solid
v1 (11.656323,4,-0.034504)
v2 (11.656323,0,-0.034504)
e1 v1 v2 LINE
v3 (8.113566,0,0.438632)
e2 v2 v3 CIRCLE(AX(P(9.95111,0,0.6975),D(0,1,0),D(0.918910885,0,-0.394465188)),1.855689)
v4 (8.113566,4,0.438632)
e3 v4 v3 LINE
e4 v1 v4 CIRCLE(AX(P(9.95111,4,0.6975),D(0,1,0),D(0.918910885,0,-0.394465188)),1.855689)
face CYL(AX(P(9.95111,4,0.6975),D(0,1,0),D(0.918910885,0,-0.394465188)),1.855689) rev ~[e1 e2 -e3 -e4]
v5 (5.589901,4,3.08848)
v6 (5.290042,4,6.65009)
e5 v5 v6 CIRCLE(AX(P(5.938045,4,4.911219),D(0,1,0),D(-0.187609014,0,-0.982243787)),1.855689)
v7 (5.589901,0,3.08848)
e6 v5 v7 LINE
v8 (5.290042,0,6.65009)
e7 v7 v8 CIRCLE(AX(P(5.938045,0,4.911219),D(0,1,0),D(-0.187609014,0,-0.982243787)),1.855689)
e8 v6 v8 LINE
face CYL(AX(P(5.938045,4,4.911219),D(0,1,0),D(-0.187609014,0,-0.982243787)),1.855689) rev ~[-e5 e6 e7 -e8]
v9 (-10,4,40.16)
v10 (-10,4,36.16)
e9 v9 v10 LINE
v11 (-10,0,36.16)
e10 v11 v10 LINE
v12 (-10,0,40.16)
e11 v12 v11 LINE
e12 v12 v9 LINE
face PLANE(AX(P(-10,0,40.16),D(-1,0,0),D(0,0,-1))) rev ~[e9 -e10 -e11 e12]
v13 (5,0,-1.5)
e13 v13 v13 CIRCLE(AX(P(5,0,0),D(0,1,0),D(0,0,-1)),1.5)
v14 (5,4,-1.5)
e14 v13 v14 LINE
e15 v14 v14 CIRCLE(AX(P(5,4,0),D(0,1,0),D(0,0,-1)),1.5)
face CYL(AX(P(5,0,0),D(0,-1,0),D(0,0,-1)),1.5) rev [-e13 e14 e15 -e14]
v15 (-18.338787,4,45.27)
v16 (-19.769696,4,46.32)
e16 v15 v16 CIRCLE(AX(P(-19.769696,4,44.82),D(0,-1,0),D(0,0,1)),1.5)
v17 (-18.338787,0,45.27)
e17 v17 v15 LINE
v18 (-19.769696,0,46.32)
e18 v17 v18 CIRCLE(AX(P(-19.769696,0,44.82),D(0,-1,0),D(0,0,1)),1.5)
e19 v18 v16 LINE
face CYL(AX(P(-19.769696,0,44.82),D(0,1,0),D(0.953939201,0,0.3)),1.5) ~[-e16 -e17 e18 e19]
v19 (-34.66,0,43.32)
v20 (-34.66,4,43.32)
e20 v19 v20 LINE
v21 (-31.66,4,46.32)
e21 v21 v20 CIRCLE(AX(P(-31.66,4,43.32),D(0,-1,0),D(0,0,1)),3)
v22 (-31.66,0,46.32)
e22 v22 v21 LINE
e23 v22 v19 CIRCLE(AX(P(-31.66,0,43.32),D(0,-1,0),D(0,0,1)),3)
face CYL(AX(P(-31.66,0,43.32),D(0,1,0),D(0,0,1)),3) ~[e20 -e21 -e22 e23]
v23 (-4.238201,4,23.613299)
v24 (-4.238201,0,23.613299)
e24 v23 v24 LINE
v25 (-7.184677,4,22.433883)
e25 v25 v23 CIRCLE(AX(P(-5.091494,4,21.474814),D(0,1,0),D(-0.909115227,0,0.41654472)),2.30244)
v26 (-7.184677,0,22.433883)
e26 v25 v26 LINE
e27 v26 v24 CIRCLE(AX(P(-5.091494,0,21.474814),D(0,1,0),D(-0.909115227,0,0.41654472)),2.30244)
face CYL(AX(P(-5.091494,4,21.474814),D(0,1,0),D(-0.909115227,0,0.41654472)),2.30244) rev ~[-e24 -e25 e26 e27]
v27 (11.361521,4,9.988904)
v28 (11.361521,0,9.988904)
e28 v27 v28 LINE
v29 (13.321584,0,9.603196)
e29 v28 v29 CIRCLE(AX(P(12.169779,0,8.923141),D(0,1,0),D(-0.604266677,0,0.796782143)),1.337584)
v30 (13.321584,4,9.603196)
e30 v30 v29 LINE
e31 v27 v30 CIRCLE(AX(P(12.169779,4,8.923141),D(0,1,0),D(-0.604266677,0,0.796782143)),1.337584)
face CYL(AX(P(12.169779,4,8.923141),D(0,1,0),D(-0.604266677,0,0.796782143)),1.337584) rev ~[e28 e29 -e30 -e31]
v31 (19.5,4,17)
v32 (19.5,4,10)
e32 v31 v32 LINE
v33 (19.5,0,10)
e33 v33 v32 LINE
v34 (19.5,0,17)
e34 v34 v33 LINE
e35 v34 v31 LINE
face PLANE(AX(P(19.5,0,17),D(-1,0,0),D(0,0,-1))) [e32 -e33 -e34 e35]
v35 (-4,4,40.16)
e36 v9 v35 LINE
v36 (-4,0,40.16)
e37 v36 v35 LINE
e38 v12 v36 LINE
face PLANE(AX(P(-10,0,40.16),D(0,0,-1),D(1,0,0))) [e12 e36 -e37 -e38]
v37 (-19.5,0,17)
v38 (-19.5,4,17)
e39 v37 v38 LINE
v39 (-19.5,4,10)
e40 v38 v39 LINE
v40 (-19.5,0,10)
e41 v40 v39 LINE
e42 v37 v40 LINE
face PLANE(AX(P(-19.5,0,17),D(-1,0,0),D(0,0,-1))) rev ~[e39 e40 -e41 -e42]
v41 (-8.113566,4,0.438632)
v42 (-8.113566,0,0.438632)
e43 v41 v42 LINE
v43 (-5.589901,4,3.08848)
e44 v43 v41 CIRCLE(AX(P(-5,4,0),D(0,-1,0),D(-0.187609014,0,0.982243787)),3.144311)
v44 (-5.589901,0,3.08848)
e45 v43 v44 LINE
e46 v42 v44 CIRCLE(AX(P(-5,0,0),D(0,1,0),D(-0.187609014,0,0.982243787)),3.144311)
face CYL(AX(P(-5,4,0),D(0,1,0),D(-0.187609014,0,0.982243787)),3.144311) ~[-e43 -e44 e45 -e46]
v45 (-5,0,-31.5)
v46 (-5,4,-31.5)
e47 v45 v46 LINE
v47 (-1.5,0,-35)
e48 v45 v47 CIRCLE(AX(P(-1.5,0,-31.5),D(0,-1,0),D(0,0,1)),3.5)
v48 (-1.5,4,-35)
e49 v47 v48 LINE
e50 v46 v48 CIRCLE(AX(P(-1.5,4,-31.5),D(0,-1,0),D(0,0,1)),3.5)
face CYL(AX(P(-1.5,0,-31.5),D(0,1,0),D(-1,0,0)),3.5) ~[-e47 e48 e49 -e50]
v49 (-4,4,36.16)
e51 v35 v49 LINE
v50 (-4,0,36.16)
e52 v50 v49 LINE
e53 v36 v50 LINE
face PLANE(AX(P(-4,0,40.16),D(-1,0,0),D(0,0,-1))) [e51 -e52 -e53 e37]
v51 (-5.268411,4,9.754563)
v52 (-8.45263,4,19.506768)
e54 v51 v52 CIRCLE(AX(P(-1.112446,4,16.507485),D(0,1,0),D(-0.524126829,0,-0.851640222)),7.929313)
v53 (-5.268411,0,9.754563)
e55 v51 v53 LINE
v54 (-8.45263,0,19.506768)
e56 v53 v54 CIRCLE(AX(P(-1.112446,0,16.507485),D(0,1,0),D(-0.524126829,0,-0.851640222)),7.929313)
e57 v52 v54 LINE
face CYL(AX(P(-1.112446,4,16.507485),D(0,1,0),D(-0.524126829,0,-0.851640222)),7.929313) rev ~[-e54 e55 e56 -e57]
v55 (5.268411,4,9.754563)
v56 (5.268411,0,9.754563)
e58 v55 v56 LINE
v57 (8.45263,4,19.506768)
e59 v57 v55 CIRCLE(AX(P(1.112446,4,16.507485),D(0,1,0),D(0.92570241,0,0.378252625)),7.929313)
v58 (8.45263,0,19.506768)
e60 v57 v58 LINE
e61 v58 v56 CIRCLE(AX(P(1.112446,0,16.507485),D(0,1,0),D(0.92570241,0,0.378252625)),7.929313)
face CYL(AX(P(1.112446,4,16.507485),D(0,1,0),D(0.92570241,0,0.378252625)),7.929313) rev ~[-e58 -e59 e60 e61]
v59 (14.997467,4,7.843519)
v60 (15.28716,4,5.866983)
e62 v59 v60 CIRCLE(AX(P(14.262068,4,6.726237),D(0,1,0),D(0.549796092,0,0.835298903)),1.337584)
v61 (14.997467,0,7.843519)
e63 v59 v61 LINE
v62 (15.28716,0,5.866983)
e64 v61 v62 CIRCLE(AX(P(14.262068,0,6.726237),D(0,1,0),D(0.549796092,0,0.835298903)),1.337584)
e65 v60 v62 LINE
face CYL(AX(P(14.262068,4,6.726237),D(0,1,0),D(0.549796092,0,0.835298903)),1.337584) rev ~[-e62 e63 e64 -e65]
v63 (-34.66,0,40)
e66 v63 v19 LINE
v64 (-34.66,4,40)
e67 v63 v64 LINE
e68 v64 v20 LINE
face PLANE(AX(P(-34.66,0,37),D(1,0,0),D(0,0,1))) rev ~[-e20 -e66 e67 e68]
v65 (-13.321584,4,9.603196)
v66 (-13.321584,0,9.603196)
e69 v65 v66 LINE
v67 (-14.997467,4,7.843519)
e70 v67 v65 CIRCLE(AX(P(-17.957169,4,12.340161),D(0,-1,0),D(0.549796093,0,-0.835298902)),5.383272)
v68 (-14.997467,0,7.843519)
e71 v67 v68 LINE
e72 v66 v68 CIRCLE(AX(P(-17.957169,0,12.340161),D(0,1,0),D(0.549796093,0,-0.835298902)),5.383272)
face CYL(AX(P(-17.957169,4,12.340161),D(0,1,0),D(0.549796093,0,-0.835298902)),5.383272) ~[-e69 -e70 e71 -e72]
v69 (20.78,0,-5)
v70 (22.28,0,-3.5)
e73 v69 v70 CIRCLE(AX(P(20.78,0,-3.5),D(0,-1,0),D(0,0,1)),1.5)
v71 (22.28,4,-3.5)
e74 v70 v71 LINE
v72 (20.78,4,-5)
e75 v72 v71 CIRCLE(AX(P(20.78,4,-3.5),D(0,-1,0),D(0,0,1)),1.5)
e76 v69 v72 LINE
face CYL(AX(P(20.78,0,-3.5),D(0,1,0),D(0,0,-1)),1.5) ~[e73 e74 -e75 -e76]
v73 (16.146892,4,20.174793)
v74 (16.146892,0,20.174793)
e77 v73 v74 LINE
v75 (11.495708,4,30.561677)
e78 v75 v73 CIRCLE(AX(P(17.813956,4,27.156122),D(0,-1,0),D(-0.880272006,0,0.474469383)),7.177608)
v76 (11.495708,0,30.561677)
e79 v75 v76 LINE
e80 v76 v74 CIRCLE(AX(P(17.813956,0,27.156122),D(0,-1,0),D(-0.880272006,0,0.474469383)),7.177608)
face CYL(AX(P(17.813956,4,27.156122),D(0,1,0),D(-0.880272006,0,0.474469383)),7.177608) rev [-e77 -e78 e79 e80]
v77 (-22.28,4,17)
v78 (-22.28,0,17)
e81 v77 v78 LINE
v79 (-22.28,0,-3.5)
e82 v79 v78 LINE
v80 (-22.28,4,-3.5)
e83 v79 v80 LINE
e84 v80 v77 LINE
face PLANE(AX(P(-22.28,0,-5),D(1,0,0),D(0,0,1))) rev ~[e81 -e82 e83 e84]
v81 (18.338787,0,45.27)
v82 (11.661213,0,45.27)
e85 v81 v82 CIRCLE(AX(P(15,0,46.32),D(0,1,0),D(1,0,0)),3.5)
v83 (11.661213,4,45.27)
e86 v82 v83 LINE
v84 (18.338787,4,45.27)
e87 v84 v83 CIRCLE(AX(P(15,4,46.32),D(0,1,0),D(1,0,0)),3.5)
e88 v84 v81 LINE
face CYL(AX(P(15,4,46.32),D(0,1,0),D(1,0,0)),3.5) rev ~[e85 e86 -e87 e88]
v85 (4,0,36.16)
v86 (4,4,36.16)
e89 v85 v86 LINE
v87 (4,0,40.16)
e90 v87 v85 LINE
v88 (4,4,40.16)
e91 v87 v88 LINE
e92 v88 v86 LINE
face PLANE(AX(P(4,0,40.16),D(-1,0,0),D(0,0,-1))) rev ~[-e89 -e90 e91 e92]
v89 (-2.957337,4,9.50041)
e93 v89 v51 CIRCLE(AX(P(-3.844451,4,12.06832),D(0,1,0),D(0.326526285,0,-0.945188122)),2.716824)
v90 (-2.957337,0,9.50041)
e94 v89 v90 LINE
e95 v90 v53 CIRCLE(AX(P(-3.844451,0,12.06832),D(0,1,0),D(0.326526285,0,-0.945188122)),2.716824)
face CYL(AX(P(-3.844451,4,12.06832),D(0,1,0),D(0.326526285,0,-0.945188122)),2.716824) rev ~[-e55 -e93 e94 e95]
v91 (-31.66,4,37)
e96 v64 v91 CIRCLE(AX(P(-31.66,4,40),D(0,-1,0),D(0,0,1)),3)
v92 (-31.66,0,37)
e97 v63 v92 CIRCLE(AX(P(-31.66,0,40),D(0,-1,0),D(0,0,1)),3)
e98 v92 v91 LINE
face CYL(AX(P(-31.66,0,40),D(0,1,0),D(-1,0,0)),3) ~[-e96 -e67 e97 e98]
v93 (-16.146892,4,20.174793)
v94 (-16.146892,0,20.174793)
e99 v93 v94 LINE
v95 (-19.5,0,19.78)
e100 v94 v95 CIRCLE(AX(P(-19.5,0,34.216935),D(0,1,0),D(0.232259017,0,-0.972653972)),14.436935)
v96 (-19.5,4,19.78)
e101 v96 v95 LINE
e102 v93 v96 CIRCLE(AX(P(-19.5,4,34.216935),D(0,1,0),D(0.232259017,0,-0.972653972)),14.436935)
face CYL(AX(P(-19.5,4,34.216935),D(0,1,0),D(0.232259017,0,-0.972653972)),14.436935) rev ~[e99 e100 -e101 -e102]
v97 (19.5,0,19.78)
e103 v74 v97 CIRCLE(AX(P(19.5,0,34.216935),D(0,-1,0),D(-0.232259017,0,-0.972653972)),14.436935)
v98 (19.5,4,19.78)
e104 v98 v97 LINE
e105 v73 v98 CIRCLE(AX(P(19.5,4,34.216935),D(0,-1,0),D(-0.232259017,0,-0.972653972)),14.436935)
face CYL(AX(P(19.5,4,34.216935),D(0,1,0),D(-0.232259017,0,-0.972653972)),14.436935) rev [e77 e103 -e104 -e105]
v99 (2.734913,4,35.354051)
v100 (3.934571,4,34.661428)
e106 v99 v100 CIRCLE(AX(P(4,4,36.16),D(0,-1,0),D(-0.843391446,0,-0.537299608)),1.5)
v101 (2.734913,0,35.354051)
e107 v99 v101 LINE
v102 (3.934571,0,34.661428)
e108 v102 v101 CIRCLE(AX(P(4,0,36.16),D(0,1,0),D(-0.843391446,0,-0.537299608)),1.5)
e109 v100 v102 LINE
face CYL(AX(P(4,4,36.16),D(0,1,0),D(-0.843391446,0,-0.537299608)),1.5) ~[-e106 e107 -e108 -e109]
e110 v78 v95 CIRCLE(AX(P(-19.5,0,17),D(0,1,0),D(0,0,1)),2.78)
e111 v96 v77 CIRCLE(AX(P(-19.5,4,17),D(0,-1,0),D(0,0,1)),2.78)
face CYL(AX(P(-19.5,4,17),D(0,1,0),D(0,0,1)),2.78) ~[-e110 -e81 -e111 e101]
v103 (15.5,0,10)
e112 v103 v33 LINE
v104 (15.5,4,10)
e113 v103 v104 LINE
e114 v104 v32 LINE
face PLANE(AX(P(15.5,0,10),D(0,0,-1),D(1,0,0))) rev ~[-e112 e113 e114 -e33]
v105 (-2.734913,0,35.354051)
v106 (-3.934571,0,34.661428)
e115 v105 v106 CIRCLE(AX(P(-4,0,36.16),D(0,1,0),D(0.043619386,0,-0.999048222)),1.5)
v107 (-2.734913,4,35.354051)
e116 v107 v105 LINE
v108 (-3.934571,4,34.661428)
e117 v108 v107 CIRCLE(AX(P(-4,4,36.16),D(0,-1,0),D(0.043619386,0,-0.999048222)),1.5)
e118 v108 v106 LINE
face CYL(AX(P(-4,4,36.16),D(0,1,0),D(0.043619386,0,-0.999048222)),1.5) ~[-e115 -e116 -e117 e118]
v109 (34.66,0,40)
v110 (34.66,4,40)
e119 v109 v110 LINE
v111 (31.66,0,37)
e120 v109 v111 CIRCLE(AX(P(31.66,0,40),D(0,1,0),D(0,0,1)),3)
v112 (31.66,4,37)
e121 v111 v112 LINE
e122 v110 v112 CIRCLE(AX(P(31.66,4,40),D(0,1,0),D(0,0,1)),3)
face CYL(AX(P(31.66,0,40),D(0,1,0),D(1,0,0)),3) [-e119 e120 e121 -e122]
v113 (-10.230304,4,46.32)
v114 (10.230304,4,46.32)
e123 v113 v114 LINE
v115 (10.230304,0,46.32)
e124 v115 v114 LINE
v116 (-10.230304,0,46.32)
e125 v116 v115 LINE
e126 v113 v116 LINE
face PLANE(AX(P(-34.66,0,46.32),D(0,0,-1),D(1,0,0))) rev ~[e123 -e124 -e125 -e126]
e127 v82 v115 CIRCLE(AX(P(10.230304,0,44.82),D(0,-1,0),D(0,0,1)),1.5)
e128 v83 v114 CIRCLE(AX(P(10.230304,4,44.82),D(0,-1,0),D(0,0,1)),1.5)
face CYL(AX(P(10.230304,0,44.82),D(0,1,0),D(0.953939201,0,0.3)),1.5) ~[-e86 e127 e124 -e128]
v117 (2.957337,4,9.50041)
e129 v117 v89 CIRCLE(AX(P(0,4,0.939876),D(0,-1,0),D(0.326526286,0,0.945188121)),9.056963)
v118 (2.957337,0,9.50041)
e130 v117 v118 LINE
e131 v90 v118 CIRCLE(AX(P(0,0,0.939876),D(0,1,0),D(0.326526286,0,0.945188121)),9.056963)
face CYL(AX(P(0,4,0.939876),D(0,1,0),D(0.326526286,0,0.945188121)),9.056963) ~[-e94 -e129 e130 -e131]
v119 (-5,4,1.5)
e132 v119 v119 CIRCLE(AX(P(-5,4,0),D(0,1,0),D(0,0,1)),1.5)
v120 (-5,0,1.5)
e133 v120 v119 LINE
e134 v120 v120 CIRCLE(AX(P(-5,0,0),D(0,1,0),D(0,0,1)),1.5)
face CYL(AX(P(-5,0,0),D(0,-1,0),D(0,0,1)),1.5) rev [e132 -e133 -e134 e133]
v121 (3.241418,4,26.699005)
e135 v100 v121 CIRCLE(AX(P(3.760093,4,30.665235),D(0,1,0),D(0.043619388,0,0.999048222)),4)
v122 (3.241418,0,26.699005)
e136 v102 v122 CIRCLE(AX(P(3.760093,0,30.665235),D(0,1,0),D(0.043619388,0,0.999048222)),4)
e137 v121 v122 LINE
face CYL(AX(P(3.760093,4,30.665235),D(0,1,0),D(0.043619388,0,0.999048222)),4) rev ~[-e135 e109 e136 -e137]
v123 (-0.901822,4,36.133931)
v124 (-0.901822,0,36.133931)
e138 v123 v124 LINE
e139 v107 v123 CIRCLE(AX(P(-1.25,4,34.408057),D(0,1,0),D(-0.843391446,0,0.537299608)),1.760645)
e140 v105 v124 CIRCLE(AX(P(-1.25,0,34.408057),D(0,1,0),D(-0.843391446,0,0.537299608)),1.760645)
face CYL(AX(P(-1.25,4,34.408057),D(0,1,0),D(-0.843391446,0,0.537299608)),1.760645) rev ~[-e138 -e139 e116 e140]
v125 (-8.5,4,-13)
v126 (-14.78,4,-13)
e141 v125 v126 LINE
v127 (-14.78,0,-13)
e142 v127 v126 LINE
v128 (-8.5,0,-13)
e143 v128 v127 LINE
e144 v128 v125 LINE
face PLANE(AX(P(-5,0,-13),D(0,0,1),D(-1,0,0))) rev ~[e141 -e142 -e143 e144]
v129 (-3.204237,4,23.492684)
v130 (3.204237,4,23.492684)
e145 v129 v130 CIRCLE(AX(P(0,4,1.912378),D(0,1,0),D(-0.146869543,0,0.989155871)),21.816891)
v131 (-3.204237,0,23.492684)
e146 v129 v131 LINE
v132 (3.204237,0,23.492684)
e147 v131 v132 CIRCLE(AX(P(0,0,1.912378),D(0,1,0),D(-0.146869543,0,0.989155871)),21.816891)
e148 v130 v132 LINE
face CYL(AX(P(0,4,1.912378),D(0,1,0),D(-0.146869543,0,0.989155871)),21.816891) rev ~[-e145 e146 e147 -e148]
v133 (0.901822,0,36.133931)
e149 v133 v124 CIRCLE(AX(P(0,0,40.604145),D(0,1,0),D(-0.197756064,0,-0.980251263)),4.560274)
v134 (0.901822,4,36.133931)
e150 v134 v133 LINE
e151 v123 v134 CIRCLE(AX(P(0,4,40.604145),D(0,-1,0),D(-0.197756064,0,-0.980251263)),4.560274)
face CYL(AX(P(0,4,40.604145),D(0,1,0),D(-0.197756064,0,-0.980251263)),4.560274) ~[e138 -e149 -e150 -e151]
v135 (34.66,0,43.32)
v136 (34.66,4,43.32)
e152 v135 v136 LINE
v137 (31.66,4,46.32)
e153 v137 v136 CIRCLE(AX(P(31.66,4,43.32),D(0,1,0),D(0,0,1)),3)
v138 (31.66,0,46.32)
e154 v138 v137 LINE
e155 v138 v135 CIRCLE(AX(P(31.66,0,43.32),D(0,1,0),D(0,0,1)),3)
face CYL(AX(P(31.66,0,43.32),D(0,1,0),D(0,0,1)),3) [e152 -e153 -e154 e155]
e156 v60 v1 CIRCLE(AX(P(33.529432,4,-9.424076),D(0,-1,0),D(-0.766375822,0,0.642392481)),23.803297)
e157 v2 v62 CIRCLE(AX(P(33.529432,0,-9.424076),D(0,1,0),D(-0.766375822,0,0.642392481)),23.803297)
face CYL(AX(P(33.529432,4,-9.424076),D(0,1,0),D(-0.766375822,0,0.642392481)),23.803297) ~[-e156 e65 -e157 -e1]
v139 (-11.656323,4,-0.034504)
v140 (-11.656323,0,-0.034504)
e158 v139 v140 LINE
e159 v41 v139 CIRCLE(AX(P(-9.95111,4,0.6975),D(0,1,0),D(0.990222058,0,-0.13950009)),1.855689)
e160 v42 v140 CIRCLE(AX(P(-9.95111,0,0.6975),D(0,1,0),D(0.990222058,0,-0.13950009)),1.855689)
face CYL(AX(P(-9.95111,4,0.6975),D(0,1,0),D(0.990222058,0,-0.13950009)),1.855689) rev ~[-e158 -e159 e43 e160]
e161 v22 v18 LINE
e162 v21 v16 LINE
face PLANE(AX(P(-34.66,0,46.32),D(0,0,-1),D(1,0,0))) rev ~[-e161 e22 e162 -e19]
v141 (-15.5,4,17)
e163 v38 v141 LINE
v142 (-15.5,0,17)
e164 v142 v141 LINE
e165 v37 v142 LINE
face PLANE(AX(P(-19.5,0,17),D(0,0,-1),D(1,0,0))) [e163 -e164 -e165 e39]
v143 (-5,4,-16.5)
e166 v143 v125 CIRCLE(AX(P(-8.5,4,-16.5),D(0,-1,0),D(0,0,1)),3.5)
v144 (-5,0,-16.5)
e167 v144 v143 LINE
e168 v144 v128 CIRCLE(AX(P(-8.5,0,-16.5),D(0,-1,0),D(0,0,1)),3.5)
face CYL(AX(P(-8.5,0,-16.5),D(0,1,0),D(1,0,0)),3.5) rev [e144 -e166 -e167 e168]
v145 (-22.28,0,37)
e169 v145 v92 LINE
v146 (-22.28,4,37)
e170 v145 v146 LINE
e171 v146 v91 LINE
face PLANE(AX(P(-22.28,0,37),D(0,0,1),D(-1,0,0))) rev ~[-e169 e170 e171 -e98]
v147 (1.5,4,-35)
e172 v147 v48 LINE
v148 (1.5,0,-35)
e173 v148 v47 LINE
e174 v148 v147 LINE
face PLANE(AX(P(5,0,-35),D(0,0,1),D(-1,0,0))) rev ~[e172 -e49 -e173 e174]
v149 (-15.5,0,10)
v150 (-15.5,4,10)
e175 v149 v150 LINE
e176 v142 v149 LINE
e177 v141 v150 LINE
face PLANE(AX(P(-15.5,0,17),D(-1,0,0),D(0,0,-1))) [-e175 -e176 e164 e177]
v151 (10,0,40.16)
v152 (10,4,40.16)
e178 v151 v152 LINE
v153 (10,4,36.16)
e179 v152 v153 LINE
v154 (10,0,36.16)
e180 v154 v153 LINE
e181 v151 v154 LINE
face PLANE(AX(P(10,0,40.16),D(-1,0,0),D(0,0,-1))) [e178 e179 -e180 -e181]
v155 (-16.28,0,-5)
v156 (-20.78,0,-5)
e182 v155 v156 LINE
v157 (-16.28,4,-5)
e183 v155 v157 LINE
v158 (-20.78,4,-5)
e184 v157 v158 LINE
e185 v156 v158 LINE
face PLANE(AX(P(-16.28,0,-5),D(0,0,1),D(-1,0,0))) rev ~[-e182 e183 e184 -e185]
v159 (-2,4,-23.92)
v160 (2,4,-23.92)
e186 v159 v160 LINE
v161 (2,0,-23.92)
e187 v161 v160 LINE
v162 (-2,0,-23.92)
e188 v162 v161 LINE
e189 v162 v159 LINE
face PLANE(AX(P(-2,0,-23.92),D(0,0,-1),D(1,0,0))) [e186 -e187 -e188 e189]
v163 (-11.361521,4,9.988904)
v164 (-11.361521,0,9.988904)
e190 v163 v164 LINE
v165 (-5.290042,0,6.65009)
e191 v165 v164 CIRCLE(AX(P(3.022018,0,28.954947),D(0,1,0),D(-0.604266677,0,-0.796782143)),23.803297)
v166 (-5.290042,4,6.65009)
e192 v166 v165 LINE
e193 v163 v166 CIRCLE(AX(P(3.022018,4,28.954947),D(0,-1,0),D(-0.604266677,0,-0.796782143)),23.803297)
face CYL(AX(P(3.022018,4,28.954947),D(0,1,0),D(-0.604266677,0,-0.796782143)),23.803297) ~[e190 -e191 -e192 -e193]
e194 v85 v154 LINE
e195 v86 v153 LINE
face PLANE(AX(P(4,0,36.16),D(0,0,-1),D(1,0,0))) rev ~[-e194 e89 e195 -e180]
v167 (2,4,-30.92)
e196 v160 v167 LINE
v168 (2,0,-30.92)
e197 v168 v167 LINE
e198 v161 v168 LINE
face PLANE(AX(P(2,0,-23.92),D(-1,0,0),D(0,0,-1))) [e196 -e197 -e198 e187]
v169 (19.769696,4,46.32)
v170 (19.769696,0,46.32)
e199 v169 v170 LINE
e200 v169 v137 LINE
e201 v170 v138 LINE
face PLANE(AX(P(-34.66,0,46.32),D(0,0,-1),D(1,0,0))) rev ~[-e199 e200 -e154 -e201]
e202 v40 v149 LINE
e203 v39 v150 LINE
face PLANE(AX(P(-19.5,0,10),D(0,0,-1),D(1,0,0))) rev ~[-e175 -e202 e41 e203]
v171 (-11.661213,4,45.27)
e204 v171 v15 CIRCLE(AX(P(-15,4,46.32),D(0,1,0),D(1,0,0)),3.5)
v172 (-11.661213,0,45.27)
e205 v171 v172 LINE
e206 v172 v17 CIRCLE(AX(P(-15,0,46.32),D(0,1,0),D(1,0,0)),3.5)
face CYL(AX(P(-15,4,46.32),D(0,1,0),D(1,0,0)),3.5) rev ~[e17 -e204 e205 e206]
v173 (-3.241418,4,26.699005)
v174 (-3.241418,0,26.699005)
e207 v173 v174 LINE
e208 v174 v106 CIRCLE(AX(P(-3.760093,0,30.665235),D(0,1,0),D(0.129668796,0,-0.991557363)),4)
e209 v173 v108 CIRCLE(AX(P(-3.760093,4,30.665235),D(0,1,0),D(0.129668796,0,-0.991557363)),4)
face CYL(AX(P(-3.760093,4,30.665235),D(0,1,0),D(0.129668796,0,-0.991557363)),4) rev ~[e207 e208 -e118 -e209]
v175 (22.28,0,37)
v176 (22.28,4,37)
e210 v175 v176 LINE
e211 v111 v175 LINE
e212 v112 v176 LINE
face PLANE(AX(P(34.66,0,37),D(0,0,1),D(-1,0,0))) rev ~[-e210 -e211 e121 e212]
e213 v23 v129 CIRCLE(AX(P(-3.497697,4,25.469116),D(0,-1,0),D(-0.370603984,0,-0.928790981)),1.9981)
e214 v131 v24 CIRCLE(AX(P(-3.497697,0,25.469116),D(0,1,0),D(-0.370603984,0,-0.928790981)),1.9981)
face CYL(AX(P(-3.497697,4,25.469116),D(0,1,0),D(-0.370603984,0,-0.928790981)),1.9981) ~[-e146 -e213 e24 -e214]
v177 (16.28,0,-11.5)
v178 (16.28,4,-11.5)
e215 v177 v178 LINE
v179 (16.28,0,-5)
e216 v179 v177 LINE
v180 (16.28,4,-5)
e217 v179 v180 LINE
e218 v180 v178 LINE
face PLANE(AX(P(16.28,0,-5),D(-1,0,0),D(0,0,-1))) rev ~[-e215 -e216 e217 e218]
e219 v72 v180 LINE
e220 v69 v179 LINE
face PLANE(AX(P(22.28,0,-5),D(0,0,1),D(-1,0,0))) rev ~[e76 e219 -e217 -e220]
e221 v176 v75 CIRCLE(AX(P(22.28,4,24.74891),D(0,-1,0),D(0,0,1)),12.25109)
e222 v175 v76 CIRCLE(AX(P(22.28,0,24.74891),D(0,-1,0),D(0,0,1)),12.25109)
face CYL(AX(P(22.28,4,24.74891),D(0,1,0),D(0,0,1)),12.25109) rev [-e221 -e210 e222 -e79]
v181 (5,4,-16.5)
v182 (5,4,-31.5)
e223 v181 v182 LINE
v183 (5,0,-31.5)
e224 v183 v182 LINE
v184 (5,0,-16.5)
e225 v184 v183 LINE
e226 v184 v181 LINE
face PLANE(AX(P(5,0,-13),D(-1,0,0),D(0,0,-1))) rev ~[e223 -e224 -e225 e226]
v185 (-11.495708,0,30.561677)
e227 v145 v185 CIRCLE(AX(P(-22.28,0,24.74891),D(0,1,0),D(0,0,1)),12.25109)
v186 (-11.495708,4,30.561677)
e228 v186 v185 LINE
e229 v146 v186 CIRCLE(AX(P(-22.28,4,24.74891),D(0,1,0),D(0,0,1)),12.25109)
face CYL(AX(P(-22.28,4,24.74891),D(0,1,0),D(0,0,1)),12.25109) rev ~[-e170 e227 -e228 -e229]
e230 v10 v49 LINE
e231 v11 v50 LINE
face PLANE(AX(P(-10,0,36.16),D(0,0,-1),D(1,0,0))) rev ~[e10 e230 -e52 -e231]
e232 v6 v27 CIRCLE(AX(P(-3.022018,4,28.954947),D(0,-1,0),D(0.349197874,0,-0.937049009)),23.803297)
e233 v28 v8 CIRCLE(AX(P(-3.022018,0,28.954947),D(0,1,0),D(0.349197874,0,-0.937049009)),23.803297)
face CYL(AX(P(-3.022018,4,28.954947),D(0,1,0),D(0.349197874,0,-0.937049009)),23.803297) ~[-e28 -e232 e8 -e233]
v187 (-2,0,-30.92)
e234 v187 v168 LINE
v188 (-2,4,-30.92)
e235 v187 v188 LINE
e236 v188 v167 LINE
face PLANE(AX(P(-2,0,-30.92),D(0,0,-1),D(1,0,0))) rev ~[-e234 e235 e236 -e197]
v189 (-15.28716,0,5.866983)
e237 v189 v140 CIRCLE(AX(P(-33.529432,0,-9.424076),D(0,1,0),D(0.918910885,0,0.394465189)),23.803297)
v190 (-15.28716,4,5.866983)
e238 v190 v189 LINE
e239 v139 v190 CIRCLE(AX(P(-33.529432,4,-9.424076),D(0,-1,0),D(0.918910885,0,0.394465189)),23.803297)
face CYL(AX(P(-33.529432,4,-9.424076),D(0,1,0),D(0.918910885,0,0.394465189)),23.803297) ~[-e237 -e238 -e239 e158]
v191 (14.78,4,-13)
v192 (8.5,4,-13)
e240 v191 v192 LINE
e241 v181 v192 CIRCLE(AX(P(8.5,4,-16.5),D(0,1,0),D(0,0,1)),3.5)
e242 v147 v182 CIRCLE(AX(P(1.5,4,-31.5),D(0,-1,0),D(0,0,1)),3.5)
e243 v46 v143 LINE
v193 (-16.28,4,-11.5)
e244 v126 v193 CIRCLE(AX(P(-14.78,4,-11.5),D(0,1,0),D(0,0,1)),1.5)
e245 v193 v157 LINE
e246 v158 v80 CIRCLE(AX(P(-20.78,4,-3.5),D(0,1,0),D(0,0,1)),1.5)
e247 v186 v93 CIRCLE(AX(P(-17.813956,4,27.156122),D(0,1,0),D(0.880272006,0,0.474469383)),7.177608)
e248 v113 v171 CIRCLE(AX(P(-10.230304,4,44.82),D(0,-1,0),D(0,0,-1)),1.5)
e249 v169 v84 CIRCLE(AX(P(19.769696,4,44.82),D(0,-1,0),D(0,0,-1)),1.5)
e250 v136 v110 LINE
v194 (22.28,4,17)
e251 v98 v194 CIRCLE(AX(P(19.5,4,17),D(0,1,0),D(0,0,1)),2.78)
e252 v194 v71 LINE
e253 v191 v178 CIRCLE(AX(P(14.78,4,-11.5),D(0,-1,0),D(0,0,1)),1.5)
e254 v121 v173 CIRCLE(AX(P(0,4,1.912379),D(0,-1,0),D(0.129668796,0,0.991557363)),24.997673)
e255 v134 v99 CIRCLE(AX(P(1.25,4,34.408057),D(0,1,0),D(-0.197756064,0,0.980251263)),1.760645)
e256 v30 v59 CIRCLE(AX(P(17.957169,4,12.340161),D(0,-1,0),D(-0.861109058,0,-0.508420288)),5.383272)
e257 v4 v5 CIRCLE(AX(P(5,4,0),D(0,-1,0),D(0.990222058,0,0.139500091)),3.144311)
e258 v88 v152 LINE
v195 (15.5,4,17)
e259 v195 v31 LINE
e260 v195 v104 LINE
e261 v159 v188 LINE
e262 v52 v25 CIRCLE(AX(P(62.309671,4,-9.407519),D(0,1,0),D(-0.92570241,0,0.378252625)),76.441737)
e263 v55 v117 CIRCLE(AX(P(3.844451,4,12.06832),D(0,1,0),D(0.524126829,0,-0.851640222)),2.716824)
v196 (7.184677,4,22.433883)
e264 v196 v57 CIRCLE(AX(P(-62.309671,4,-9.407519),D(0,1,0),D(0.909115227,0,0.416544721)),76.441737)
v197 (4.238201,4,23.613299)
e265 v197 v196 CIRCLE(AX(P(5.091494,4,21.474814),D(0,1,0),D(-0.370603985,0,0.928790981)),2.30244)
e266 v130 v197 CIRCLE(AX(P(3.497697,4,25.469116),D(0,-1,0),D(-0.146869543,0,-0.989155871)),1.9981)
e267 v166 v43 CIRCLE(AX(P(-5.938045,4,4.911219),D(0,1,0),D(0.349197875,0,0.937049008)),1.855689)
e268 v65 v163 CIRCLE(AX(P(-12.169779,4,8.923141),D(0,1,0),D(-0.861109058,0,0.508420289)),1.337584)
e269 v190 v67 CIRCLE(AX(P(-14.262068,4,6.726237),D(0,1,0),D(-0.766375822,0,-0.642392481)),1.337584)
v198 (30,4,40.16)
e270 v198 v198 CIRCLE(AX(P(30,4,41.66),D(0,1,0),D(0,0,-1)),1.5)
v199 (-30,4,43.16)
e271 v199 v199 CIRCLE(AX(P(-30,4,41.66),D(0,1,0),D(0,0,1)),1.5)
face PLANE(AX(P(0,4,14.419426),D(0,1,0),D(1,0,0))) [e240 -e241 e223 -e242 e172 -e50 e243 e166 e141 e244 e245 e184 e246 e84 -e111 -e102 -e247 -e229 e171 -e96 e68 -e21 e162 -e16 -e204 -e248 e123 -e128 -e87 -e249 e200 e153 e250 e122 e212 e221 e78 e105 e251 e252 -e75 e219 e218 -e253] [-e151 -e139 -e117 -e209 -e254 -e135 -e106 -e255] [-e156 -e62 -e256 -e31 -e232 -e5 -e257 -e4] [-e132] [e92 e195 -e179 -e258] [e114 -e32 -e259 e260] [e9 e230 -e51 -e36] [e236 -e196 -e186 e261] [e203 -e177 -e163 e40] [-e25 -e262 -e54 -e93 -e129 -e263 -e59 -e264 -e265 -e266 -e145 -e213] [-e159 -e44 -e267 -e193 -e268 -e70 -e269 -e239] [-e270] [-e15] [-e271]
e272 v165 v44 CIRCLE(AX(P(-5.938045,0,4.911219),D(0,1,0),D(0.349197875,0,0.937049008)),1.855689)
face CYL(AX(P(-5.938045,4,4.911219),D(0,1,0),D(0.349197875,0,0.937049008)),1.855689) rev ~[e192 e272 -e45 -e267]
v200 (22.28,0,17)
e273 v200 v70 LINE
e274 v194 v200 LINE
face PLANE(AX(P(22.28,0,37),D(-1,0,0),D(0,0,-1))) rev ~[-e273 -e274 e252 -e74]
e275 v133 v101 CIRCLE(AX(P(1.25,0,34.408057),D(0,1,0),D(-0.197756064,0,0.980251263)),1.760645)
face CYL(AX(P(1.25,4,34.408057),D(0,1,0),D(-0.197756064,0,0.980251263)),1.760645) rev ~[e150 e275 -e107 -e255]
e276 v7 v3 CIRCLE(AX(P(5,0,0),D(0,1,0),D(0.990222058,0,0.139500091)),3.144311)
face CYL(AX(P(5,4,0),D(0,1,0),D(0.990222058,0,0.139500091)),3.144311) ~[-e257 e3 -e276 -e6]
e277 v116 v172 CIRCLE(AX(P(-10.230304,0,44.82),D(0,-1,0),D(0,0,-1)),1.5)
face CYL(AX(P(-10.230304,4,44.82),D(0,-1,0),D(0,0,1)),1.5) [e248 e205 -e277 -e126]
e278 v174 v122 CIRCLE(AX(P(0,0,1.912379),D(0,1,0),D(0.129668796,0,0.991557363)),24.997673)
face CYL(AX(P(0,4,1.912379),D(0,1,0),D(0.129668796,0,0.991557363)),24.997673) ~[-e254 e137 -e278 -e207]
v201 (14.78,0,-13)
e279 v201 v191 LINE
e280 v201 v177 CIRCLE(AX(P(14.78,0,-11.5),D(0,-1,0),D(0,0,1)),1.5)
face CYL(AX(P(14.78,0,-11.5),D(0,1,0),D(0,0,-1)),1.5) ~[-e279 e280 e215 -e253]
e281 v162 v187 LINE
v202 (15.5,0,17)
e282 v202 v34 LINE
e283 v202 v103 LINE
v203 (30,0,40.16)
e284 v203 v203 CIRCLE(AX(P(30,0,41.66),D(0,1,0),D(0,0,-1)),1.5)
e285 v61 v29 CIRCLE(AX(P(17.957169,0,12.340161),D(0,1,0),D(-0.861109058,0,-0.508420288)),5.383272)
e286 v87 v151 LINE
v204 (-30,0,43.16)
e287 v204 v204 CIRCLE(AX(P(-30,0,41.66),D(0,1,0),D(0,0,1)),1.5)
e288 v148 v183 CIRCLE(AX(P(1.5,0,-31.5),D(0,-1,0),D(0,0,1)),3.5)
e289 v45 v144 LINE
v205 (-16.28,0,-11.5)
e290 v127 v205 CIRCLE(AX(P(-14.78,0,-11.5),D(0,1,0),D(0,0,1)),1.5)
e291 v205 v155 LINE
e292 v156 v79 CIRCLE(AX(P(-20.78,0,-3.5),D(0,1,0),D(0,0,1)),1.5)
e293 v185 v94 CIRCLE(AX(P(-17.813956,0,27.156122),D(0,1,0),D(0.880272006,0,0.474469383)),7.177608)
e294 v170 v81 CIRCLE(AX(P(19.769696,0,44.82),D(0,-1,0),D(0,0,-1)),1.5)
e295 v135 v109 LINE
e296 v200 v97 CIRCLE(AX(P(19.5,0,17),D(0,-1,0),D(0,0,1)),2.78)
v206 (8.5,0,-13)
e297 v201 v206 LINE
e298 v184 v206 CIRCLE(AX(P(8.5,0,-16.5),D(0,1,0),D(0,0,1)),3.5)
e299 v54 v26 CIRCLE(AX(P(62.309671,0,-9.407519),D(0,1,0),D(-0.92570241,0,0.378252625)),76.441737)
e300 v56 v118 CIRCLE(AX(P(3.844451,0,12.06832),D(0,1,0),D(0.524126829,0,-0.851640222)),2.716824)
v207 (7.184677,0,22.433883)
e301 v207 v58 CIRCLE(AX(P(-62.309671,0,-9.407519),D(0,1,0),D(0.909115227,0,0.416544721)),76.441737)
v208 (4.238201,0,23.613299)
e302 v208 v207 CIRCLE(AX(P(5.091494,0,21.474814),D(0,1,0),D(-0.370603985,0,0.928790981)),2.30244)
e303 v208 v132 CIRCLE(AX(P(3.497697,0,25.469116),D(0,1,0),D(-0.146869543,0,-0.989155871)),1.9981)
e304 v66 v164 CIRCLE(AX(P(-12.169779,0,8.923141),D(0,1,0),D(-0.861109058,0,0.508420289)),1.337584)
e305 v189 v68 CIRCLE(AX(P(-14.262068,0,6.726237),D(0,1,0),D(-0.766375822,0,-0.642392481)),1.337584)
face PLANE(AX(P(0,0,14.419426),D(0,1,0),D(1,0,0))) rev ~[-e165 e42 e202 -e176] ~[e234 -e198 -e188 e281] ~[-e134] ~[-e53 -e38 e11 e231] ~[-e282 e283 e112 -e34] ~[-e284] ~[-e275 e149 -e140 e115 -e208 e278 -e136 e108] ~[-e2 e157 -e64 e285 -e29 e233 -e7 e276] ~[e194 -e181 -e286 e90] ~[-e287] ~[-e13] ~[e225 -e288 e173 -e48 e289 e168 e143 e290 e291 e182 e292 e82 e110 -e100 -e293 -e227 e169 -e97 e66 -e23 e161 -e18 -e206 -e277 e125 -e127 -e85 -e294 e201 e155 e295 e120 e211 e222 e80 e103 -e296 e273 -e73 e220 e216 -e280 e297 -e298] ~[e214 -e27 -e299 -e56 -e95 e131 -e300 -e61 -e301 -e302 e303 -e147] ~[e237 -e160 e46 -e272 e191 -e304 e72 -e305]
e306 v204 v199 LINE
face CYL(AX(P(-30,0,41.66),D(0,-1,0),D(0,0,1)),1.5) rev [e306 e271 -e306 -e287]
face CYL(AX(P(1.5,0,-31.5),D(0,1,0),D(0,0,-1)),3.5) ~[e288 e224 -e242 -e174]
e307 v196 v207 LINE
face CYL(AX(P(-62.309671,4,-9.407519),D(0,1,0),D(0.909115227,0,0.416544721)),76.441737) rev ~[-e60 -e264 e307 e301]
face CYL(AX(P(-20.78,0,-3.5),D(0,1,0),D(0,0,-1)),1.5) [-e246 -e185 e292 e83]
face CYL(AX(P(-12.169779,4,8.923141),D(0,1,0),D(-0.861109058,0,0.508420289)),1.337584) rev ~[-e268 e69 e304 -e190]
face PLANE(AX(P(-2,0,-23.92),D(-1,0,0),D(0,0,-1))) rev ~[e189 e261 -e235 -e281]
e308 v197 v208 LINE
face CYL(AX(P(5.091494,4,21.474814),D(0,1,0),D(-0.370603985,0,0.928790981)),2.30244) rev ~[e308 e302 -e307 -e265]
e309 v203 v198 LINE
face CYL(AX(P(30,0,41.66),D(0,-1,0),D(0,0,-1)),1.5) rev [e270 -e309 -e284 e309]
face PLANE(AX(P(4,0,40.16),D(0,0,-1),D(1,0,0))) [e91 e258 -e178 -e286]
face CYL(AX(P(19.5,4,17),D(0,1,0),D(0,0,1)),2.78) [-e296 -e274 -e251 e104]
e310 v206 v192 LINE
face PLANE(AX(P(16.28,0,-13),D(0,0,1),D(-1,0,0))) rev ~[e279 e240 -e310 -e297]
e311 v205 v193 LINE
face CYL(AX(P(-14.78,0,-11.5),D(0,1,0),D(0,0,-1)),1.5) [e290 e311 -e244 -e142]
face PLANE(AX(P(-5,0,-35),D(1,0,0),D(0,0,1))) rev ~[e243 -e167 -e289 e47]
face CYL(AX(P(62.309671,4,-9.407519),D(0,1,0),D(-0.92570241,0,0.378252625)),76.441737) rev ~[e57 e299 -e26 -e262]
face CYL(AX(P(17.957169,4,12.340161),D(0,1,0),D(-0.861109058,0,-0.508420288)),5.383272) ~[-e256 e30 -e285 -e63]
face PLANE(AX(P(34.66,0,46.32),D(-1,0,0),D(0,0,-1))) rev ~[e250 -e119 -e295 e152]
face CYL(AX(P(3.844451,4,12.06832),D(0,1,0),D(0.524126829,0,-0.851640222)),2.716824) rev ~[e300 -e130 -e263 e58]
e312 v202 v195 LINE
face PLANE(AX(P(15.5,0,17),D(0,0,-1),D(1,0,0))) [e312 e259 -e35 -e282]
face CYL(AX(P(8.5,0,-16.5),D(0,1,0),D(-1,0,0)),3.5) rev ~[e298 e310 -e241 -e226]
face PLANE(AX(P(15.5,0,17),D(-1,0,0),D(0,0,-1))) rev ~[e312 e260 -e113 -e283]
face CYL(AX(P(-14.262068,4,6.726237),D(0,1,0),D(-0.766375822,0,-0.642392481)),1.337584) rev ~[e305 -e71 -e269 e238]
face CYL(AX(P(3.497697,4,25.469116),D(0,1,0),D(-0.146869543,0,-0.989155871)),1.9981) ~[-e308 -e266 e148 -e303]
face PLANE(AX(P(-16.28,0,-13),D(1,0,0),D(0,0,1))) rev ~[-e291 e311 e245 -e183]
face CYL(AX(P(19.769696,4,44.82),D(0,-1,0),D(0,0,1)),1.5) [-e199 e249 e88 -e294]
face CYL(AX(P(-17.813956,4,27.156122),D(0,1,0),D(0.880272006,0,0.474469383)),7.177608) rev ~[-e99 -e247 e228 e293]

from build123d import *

# Parameters (mm, degrees)
ESQUISSE1_R             = 1.5
ESQUISSE1_W             = 4
ESQUISSE1_H             = 7
ESQUISSE1_W_2           = 6
ESQUISSE1_H_2           = 4
BOSS_EXTRU_1_DEPTH      = 4
ENL_V_MAT_EXTRU_1_REACH = 59.99
ENL_V_MAT_EXTRU_2_REACH = 59.99
ENL_V_MAT_EXTRU_3_REACH = 59.99
CONG_1_R                = 3.5
CONG_2_R                = 3.5
CONG_3_R                = 1.5
ENL_V_MAT_EXTRU_4_REACH = 59.99
CONG_4_R                = 3
CONG_5_R                = 3
ENL_V_MAT_EXTRU_5_REACH = 59.99
ESQUISSE8_R             = 3.5
CONG_6_R                = 1.5


with BuildPart() as part:
    # Esquisse1 → Boss.-Extru.1 (new body)
    with BuildSketch(Plane(origin=(0, 0, 0), x_dir=(1, 0, 0), z_dir=(0, 1, 0))):
        Polygon((-20.28, 5), (-22.28, 5), (-22.28, -37), (-34.66, -37), (-34.66, -46.32), (34.66, -46.32), (34.66, -37), (22.28, -37), (22.28, 5), (20.28, 5), (16.28, 5), (16.28, 13), (5, 13), (5, 35), (-5, 35), (-5, 13), (-16.28, 13), (-16.28, 5), align=None)
        with Locations(Location((-5, 0, 0), (0, 0, 270))):
            Circle(ESQUISSE1_R, mode=Mode.SUBTRACT)
        with Locations(Location((5, 0, 0), (0, 0, 90))):
            Circle(ESQUISSE1_R, mode=Mode.SUBTRACT)
        with Locations(Location((-30, -41.66, 0), (0, 0, 270))):
            Circle(ESQUISSE1_R, mode=Mode.SUBTRACT)
        with Locations(Location((30, -41.66, 0), (0, 0, 90))):
            Circle(ESQUISSE1_R, mode=Mode.SUBTRACT)
        with Locations((0, 27.42)):
            Rectangle(ESQUISSE1_W, ESQUISSE1_H, mode=Mode.SUBTRACT)
        with Locations((-17.5, -13.5)):
            Rectangle(ESQUISSE1_W, ESQUISSE1_H, mode=Mode.SUBTRACT)
        with Locations((-7, -38.16)):
            Rectangle(ESQUISSE1_W_2, ESQUISSE1_H_2, mode=Mode.SUBTRACT)
        with Locations((7, -38.16)):
            Rectangle(ESQUISSE1_W_2, ESQUISSE1_H_2, mode=Mode.SUBTRACT)
        with Locations((17.5, -13.5)):
            Rectangle(ESQUISSE1_W, ESQUISSE1_H, mode=Mode.SUBTRACT)
    extrude(amount=BOSS_EXTRU_1_DEPTH)

    # Esquisse2 → Enlèv. mat.-Extru.1 (cut, up to next)
    with BuildSketch(Plane(origin=(0, 4, 0), x_dir=(1, 0, 0), z_dir=(0, 1, 0)), mode=Mode.PRIVATE) as enl_v_mat_extru_1_sk1:
        with BuildLine():
            ThreePointArc((-14.9974668, -7.843519448), (-14.058937243, -8.627559279), (-13.321584394, -9.603195975))
            ThreePointArc((-13.321584394, -9.603195975), (-12.428040198, -10.235555734), (-11.361521034, -9.988904221))
            ThreePointArc((-11.361521034, -9.988904221), (-8.447920047, -8.097394436), (-5.290042477, -6.650090308))
            ThreePointArc((-5.290042477, -6.650090308), (-4.088898303, -4.755535803), (-5.589901119, -3.088480121))
            ThreePointArc((-5.589901119, -3.088480121), (-7.276914991, -2.168490468), (-8.113566287, -0.438631695))
            ThreePointArc((-8.113566287, -0.438631695), (-9.70546362, 1.141857781), (-11.656322949, 0.034504187))
            ThreePointArc((-11.656322949, 0.034504187), (-13.25585737, -3.049060247), (-15.287160414, -5.866982872))
            ThreePointArc((-15.287160414, -5.866982872), (-15.585513038, -6.920209252), (-14.9974668, -7.843519448))
        make_face()
    enl_v_mat_extru_1_tool1 = extrude(enl_v_mat_extru_1_sk1.sketch, amount=-ENL_V_MAT_EXTRU_1_REACH, mode=Mode.PRIVATE) & part.part
    # Esquisse2 → Enlèv. mat.-Extru.1 (cut, up to next)
    with BuildSketch(Plane(origin=(0, 4, 0), x_dir=(1, 0, 0), z_dir=(0, 1, 0)), mode=Mode.PRIVATE) as enl_v_mat_extru_1_sk2:
        with BuildLine():
            ThreePointArc((5.589901119, -3.088480121), (4.088898303, -4.755535803), (5.290042477, -6.650090308))
            ThreePointArc((5.290042477, -6.650090308), (8.447920047, -8.097394436), (11.361521034, -9.988904221))
            ThreePointArc((11.361521034, -9.988904221), (12.428040198, -10.235555734), (13.321584394, -9.603195975))
            ThreePointArc((13.321584394, -9.603195975), (14.058937243, -8.627559279), (14.9974668, -7.843519448))
            ThreePointArc((14.9974668, -7.843519448), (15.585513038, -6.920209252), (15.287160414, -5.866982872))
            ThreePointArc((15.287160414, -5.866982872), (13.25585737, -3.049060247), (11.656322949, 0.034504187))
            ThreePointArc((11.656322949, 0.034504187), (9.70546362, 1.141857781), (8.113566287, -0.438631695))
            ThreePointArc((8.113566287, -0.438631695), (7.276914991, -2.168490468), (5.589901119, -3.088480121))
        make_face()
    enl_v_mat_extru_1_tool2 = extrude(enl_v_mat_extru_1_sk2.sketch, amount=-ENL_V_MAT_EXTRU_1_REACH, mode=Mode.PRIVATE) & part.part
    add(enl_v_mat_extru_1_tool1.solids().sort_by_distance((-10.104676, 4, 4.861596))[0], mode=Mode.SUBTRACT)
    add(enl_v_mat_extru_1_tool2.solids().sort_by_distance((10.104676, 4, 4.861596))[0], mode=Mode.SUBTRACT)

    # Esquisse3 → Enlèv. mat.-Extru.2 (cut, up to next)
    with BuildSketch(Plane(origin=(0, 4, 0), x_dir=(1, 0, 0), z_dir=(0, 1, 0)), mode=Mode.PRIVATE) as enl_v_mat_extru_2_sk1:
        with BuildLine():
            ThreePointArc((-3.934570919, -34.661427668), (-3.25, -34.860961894), (-2.734912831, -35.354050587))
            ThreePointArc((-2.734912831, -35.354050587), (-1.93927123, -36.028172694), (-0.901821799, -36.133931151))
            ThreePointArc((-0.901821799, -36.133931151), (0, -36.043871504), (0.901821799, -36.133931151))
            ThreePointArc((0.901821799, -36.133931151), (1.93927123, -36.028172694), (2.734912831, -35.354050587))
            ThreePointArc((2.734912831, -35.354050587), (3.25, -34.860961894), (3.934570919, -34.661427668))
            ThreePointArc((3.934570919, -34.661427668), (7.745022524, -30.318334752), (3.241418184, -26.699005331))
            ThreePointArc((3.241418184, -26.699005331), (0, -26.910051622), (-3.241418184, -26.699005331))
            ThreePointArc((-3.241418184, -26.699005331), (-7.745022524, -30.318334752), (-3.934570919, -34.661427668))
        make_face()
    enl_v_mat_extru_2_tool1 = extrude(enl_v_mat_extru_2_sk1.sketch, amount=-ENL_V_MAT_EXTRU_2_REACH, mode=Mode.PRIVATE) & part.part
    add(enl_v_mat_extru_2_tool1.solids().sort_by_distance((0, 4, 31.014631))[0], mode=Mode.SUBTRACT)

    # Esquisse4 → Enlèv. mat.-Extru.3 (cut, up to next)
    with BuildSketch(Plane(origin=(0, 4, 0), x_dir=(1, 0, 0), z_dir=(0, 1, 0)), mode=Mode.PRIVATE) as enl_v_mat_extru_3_sk1:
        with BuildLine():
            ThreePointArc((-3.204236741, -23.492683837), (0, -23.72926901), (3.204236741, -23.492683837))
            ThreePointArc((3.204236741, -23.492683837), (3.729211384, -23.484474006), (4.238200501, -23.613298912))
            ThreePointArc((4.238200501, -23.613298912), (5.947114761, -23.612368685), (7.184676805, -22.433882792))
            ThreePointArc((7.184676805, -22.433882792), (7.833923694, -20.976940348), (8.452629907, -19.506768443))
            ThreePointArc((8.452629907, -19.506768443), (8.650133896, -14.04633429), (5.268411363, -9.754562897))
            ThreePointArc((5.268411363, -9.754562897), (4.141434744, -9.367776338), (2.957336552, -9.500409716))
            ThreePointArc((2.957336552, -9.500409716), (0, -9.996838884), (-2.957336552, -9.500409716))
            ThreePointArc((-2.957336552, -9.500409716), (-4.141434744, -9.367776338), (-5.268411363, -9.754562897))
            ThreePointArc((-5.268411363, -9.754562897), (-8.650133896, -14.04633429), (-8.452629907, -19.506768443))
            ThreePointArc((-8.452629907, -19.506768443), (-7.833923694, -20.976940348), (-7.184676805, -22.433882792))
            ThreePointArc((-7.184676805, -22.433882792), (-5.947114761, -23.612368685), (-4.238200501, -23.613298912))
            ThreePointArc((-4.238200501, -23.613298912), (-3.729211384, -23.484474006), (-3.204236741, -23.492683837))
        make_face()
    enl_v_mat_extru_3_tool1 = extrude(enl_v_mat_extru_3_sk1.sketch, amount=-ENL_V_MAT_EXTRU_3_REACH, mode=Mode.PRIVATE) & part.part
    add(enl_v_mat_extru_3_tool1.solids().sort_by_distance((0, 4, 16.711487))[0], mode=Mode.SUBTRACT)

    # Congé1
    cong_1_edges = [part.edges().sort_by_distance(p)[0] for p in [
        (-5, 2, -35),
        (5, 2, -35),
    ]]
    fillet(cong_1_edges, radius=CONG_1_R)

    # Congé2
    cong_2_edges = [part.edges().sort_by_distance(p)[0] for p in [
        (-5, 2, -13),
        (5, 2, -13),
    ]]
    fillet(cong_2_edges, radius=CONG_2_R)

    # Congé3
    cong_3_edges = [part.edges().sort_by_distance(p)[0] for p in [
        (22.28, 2, -5),
        (-22.28, 2, -5),
        (-16.28, 2, -13),
        (16.28, 2, -13),
    ]]
    fillet(cong_3_edges, radius=CONG_3_R)

    # Esquisse7 → Enlèv. mat.-Extru.4 (cut, up to next)
    with BuildSketch(Plane(origin=(0, 4, 0), x_dir=(1, 0, 0), z_dir=(0, 1, 0)), mode=Mode.PRIVATE) as enl_v_mat_extru_4_sk1:
        with BuildLine():
            Line((-22.28, -17), (-22.28, -37))
            ThreePointArc((-22.28, -37), (-16.000012961, -35.267986448), (-11.495708343, -30.561677059))
            ThreePointArc((-11.495708343, -30.561677059), (-11.263143502, -24.222708134), (-16.146891575, -20.174792843))
            ThreePointArc((-16.146891575, -20.174792843), (-17.81186512, -19.879037913), (-19.5, -19.78))
            ThreePointArc((-19.5, -19.78), (-21.465756852, -18.965756852), (-22.28, -17))
        make_face()
    enl_v_mat_extru_4_tool1 = extrude(enl_v_mat_extru_4_sk1.sketch, amount=-ENL_V_MAT_EXTRU_4_REACH, mode=Mode.PRIVATE) & part.part
    enl_v_mat_extru_4 = enl_v_mat_extru_4_tool1.solids().sort_by_distance((-17.328715, 4, 27.806477))[0]
    add(enl_v_mat_extru_4, mode=Mode.SUBTRACT)

    # Symétrie1: Enlèv. mat.-Extru.4 across plane
    add(enl_v_mat_extru_4.mirror(Plane(origin=(0, 0, 0), x_dir=(0, 0, 1), z_dir=(1, 0, 0))), mode=Mode.SUBTRACT)

    # Congé4
    cong_4_edges = [part.edges().sort_by_distance(p)[0] for p in [
        (-34.66, 2, 46.32),
        (-34.66, 2, 37),
    ]]
    fillet(cong_4_edges, radius=CONG_4_R)

    # Congé5
    cong_5_edges = [part.edges().sort_by_distance(p)[0] for p in [
        (34.66, 2, 37),
        (34.66, 2, 46.32),
    ]]
    fillet(cong_5_edges, radius=CONG_5_R)

    # Esquisse8 → Enlèv. mat.-Extru.5 (cut, up to next)
    with BuildSketch(Plane(origin=(0, 4, 0), x_dir=(1, 0, 0), z_dir=(0, 1, 0)), mode=Mode.PRIVATE) as enl_v_mat_extru_5_sk1:
        with Locations((-15, -46.32)):
            Circle(ESQUISSE8_R)
    enl_v_mat_extru_5_tool1 = extrude(enl_v_mat_extru_5_sk1.sketch, amount=-ENL_V_MAT_EXTRU_5_REACH, mode=Mode.PRIVATE) & part.part
    # Esquisse8 → Enlèv. mat.-Extru.5 (cut, up to next)
    with BuildSketch(Plane(origin=(0, 4, 0), x_dir=(1, 0, 0), z_dir=(0, 1, 0)), mode=Mode.PRIVATE) as enl_v_mat_extru_5_sk2:
        with Locations((15, -46.32)):
            Circle(ESQUISSE8_R)
    enl_v_mat_extru_5_tool2 = extrude(enl_v_mat_extru_5_sk2.sketch, amount=-ENL_V_MAT_EXTRU_5_REACH, mode=Mode.PRIVATE) & part.part
    add(enl_v_mat_extru_5_tool1.solids().sort_by_distance((-15, 4, 46.32))[0], mode=Mode.SUBTRACT)
    add(enl_v_mat_extru_5_tool2.solids().sort_by_distance((15, 4, 46.32))[0], mode=Mode.SUBTRACT)

    # Congé6
    cong_6_edges = [part.edges().sort_by_distance(p)[0] for p in [
        (-18.5, 2, 46.32),
        (-11.5, 2, 46.32),
        (11.5, 2, 46.32),
        (18.5, 2, 46.32),
    ]]
    fillet(cong_6_edges, radius=CONG_6_R)


solid = part.part
